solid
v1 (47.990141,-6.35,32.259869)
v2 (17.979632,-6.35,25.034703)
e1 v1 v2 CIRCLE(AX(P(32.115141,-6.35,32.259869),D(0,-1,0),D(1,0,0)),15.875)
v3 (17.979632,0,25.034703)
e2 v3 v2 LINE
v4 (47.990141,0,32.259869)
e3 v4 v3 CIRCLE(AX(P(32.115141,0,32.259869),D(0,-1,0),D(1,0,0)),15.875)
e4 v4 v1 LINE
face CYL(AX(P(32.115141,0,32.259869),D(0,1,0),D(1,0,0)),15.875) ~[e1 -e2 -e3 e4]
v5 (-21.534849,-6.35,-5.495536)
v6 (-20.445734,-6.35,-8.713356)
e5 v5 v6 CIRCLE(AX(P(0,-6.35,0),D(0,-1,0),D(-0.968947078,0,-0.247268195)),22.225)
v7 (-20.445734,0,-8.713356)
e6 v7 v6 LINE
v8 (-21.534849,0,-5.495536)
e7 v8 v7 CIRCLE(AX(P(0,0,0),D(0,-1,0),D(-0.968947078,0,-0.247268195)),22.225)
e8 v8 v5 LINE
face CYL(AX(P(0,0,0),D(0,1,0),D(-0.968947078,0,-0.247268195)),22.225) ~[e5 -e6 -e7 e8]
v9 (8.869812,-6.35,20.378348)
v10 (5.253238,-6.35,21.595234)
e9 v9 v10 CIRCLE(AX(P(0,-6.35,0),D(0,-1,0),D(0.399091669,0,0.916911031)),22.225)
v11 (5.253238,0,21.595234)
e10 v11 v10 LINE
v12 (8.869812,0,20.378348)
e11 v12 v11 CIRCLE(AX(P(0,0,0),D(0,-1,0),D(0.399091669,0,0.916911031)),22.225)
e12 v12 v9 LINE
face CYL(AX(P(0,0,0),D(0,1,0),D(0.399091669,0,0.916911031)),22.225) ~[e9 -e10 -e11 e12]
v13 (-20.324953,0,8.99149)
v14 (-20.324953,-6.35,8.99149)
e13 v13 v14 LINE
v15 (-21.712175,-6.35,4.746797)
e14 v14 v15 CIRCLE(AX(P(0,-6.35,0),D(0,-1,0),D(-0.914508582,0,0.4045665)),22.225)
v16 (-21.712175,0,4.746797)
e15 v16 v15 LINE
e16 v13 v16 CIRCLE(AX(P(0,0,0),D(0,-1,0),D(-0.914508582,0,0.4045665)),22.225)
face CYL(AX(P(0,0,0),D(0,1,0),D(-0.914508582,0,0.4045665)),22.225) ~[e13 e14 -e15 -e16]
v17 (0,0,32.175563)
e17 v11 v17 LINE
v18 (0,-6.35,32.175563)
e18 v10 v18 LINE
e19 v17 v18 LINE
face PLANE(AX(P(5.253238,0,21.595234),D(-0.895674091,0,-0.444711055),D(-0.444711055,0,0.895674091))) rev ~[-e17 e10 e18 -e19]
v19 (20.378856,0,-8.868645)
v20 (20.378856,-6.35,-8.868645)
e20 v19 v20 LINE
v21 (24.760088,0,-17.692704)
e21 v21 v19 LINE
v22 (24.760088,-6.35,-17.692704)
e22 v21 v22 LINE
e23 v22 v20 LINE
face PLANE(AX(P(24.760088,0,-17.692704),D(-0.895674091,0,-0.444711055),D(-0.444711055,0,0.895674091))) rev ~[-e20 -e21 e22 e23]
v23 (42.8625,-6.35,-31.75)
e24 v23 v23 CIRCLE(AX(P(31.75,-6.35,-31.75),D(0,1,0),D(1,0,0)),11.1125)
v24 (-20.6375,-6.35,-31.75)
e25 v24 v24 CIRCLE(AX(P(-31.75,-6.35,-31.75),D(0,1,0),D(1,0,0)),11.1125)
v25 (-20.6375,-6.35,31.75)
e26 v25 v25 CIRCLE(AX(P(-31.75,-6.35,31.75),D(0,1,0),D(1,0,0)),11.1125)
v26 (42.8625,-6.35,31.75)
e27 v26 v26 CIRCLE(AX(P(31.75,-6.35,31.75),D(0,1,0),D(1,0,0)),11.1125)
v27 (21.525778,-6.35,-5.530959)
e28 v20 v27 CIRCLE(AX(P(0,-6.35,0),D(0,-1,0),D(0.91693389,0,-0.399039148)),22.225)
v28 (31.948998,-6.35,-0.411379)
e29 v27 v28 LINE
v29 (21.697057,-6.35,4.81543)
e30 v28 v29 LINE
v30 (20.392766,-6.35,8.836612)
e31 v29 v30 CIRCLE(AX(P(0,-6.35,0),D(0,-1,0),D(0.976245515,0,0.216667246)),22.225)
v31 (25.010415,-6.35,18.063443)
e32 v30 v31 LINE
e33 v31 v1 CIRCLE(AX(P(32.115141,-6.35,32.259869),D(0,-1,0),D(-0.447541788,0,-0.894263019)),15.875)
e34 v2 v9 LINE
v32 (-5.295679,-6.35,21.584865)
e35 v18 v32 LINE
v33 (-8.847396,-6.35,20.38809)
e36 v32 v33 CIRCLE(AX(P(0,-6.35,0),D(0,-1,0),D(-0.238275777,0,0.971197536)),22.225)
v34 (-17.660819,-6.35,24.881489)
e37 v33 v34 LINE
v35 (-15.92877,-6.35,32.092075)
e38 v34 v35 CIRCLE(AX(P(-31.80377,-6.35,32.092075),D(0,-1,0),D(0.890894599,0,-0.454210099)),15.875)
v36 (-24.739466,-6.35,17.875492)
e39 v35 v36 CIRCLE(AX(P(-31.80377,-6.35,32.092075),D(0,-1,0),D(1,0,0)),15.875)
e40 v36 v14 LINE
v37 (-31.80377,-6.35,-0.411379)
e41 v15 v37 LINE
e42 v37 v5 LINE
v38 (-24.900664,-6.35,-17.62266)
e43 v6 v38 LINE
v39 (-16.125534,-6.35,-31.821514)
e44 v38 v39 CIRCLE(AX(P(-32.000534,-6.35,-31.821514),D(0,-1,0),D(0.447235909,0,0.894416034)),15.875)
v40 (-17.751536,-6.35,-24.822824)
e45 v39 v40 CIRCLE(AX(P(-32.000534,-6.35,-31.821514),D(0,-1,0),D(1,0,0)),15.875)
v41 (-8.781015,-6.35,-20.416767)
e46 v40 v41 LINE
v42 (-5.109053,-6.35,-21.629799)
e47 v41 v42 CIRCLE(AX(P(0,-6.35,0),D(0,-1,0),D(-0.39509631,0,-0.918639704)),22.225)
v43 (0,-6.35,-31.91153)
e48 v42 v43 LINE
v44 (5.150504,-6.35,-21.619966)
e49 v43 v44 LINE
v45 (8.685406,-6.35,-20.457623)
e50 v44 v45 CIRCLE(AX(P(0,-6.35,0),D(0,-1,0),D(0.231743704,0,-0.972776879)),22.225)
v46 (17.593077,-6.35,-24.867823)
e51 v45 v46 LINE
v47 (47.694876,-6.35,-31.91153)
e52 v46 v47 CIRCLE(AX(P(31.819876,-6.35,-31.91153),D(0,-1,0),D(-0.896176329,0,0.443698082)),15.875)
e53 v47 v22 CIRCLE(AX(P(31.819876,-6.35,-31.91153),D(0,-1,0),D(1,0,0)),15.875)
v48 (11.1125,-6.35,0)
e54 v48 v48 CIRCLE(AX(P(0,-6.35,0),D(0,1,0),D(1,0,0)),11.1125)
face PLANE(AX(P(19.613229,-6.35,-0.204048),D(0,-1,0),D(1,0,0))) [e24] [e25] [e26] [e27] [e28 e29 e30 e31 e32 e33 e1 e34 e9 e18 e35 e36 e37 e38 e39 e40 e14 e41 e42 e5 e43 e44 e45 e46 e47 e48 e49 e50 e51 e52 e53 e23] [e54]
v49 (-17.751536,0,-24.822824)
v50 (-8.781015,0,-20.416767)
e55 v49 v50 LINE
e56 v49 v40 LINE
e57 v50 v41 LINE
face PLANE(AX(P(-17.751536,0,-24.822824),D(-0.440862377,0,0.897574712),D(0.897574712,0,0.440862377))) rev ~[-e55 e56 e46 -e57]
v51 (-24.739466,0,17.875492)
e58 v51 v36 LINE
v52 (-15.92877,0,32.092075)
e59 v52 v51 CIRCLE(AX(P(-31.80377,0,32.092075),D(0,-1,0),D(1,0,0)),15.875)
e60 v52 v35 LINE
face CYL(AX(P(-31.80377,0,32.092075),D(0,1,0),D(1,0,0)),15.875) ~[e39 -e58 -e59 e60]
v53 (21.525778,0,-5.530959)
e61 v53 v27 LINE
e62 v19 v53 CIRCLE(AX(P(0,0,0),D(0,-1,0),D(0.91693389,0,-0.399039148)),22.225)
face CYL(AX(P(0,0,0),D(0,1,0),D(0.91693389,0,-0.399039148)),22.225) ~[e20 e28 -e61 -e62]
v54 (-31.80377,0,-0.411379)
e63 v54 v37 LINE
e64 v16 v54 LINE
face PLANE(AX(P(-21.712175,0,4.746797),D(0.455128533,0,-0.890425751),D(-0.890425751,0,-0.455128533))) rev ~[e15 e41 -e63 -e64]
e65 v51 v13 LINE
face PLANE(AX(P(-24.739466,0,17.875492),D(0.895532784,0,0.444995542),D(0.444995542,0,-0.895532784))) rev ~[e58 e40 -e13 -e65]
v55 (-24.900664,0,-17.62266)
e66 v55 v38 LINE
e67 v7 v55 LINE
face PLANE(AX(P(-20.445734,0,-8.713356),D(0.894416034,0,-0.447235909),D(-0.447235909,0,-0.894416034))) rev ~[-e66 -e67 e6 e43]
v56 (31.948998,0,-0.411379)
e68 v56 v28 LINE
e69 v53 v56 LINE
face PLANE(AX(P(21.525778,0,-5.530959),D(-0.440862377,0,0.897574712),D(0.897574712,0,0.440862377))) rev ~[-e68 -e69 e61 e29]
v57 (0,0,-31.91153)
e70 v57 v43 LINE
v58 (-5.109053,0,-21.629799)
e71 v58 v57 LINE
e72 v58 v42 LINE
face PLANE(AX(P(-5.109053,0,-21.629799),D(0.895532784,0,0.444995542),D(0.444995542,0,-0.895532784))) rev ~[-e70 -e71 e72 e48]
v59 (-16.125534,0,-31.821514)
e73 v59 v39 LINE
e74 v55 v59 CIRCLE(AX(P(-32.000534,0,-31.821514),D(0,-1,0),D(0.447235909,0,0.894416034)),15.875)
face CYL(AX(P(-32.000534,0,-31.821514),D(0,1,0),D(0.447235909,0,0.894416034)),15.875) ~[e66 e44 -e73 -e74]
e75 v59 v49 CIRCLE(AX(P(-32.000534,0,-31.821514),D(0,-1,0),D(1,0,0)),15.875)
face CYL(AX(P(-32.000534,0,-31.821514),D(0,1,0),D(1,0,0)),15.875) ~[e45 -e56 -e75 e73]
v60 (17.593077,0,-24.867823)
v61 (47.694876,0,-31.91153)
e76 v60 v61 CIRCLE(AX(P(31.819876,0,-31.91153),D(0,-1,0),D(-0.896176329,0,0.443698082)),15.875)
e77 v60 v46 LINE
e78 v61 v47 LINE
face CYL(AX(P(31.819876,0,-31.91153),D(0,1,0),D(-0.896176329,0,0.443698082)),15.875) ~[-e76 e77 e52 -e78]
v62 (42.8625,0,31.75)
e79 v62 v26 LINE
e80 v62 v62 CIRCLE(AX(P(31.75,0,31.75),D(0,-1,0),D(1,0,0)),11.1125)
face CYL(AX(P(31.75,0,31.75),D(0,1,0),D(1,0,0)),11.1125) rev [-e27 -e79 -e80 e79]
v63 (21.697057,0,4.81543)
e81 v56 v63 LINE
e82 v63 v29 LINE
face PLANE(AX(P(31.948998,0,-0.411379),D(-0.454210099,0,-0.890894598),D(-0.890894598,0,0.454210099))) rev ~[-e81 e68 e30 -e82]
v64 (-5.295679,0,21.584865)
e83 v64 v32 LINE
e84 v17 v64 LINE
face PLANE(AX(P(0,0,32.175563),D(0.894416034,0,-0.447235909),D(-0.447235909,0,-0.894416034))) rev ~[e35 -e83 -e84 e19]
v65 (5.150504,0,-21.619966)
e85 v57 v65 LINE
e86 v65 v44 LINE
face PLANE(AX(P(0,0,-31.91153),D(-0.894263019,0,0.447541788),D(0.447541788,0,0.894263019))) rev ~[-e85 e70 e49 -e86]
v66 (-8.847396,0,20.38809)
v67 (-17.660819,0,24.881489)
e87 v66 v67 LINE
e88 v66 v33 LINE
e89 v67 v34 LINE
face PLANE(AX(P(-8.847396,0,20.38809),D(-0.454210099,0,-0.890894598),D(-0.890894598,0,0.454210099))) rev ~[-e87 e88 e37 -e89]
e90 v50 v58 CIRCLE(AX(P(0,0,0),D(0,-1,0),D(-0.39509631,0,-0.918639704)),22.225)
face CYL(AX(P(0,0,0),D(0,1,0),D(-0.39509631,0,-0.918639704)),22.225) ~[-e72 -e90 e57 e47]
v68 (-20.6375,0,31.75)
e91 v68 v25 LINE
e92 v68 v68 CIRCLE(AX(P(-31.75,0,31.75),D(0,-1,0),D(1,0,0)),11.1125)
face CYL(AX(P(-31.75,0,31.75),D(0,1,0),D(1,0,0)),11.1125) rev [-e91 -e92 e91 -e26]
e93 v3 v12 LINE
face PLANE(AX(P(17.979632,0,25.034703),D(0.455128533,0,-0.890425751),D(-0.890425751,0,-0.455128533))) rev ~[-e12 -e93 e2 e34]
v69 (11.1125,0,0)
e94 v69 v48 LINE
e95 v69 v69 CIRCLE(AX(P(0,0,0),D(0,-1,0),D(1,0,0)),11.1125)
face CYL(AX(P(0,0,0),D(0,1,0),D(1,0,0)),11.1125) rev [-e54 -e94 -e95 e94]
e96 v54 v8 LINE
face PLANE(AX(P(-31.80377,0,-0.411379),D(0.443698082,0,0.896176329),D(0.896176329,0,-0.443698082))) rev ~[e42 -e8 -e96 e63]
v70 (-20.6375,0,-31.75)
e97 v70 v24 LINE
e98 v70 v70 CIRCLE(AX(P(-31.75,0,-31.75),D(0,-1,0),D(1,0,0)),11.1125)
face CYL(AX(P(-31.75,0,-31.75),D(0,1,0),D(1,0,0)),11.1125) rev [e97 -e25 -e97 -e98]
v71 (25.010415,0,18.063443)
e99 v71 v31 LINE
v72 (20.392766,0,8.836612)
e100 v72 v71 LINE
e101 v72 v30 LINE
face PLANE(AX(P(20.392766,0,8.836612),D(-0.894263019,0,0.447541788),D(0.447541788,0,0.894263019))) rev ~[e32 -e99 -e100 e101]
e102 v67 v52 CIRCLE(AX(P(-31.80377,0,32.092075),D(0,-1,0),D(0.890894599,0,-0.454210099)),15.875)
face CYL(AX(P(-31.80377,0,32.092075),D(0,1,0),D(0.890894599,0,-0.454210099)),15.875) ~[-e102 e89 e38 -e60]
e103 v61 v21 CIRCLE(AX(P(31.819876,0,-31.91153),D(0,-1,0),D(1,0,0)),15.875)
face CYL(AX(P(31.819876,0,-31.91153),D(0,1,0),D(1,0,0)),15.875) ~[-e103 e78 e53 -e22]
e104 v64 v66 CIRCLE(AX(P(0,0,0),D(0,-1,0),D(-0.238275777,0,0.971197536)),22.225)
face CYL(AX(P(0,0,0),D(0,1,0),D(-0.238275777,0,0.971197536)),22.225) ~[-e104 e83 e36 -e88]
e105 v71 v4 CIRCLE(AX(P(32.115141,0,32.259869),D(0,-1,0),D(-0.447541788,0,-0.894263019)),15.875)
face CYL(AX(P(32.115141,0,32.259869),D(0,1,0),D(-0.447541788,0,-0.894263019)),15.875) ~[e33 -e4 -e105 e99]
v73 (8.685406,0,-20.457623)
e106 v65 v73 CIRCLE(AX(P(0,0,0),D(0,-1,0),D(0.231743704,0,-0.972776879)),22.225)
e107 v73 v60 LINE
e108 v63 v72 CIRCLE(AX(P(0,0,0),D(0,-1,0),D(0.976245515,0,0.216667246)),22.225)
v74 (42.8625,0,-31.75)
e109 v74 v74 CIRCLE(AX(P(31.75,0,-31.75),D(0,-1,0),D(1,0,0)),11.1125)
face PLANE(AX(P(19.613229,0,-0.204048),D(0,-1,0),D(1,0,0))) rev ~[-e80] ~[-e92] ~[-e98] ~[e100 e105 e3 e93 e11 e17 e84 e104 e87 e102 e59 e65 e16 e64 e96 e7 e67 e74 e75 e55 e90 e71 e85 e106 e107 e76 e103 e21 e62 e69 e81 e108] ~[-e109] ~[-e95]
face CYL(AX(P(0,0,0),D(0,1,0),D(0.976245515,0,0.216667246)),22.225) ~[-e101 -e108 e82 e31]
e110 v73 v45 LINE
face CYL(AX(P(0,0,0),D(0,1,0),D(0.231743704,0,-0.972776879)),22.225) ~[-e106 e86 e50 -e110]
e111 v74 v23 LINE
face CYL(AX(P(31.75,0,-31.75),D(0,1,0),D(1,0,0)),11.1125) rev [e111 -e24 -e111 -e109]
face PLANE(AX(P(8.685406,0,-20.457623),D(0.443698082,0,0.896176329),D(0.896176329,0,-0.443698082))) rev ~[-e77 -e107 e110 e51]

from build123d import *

# Parameters (mm, degrees)
F1_DEPTH = 6.35
F2_R     = 11.1125
F3_DEPTH = 6.351
F4_R     = 21.59
F5_DEPTH = 6.35
F6_R     = 11.1125
F7_DEPTH = 6.351


with BuildPart() as f1:
    # F0 (on Front) → F1 (new body)
    with BuildSketch(Plane.XZ):
        with BuildLine():
            ThreePointArc((21.5257779082, -5.5309592701), (22.0495015704, -2.787490896), (22.225, 0))
            ThreePointArc((22.225, 0), (22.0926198885, 2.4221419162), (21.6970565613, 4.8154295316))
            Line((21.6970565613, 4.8154295316), (19.0545663115, 6.1626660745))
            Line((19.0545663115, 6.1626660745), (15.9729558223, 0.0050951573))
            Line((15.9729558223, 0.0050951573), (19.2714315866, -6.6382280738))
            Line((19.2714315866, -6.6382280738), (21.5257779082, -5.5309592701))
        make_face()
        with BuildLine():
            ThreePointArc((21.6970565613, 4.8154295316), (22.0926198885, 2.4221419162), (22.225, 0))
            ThreePointArc((22.225, 0), (22.0495015704, -2.787490896), (21.5257779082, -5.5309592701))
            Line((21.5257779082, -5.5309592701), (31.9489983919, -0.411379033))
            Line((31.9489983919, -0.411379033), (21.6970565613, 4.8154295316))
        make_face()
        with BuildLine():
            Line((19.0545663115, 6.1626660745), (21.6970565613, 4.8154295316))
            ThreePointArc((21.6970565613, 4.8154295316), (21.1407372397, 6.8571024464), (20.3927661329, 8.836612159))
            Line((20.3927661329, 8.836612159), (19.0545663115, 6.1626660745))
        make_face()
        with BuildLine():
            ThreePointArc((20.3788557045, -8.8686450586), (21.0186730351, -7.2226040208), (21.5257779082, -5.5309592701))
            Line((21.5257779082, -5.5309592701), (19.2714315866, -6.6382280738))
            Line((19.2714315866, -6.6382280738), (20.3788557045, -8.8686450586))
        make_face()
        with BuildLine():
            Line((19.0545663115, 6.1626660745), (20.3927661329, 8.836612159))
            ThreePointArc((20.3927661329, 8.836612159), (18.3482240517, 12.5416625352), (15.6384904833, 15.7920309144))
            Line((15.6384904833, 15.7920309144), (10.6233306163, 10.7795534064))
            Line((10.6233306163, 10.7795534064), (10.8349616789, 10.3533160607))
            Line((10.8349616789, 10.3533160607), (19.0545663115, 6.1626660745))
        make_face()
        with BuildLine():
            ThreePointArc((15.6384904833, 15.7920309144), (18.3482240517, 12.5416625352), (20.3927661329, 8.836612159))
            Line((20.3927661329, 8.836612159), (25.0104148101, 18.0634431618))
            ThreePointArc((25.0104148101, 18.0634431618), (22.8287799548, 19.3843441725), (20.8868182159, 21.0375515781))
            Line((20.8868182159, 21.0375515781), (15.6384904833, 15.7920309144))
        make_face()
        with BuildLine():
            Line((24.7600884642, -17.6927042464), (20.3788557045, -8.8686450586))
            ThreePointArc((20.3788557045, -8.8686450586), (18.3698756369, -12.509927821), (15.7177018967, -15.7131942038))
            Line((15.7177018967, -15.7131942038), (20.628024747, -20.6528413462))
            ThreePointArc((20.628024747, -20.6528413462), (22.5748134031, -19.0063208739), (24.7600884642, -17.6927042464))
        make_face()
        with BuildLine():
            ThreePointArc((15.7177018967, -15.7131942038), (18.3698756369, -12.509927821), (20.3788557045, -8.8686450586))
            Line((20.3788557045, -8.8686450586), (19.2714315866, -6.6382280738))
            Line((19.2714315866, -6.6382280738), (10.8220572797, -10.7883129526))
            Line((10.8220572797, -10.7883129526), (15.7177018967, -15.7131942038))
        make_face()
        with BuildLine():
            Line((10.6233306163, 10.7795534064), (15.6384904833, 15.7920309144))
            ThreePointArc((15.6384904833, 15.7920309144), (12.4668681814, 18.3991255974), (8.8698123462, 20.3783476745))
            Line((8.8698123462, 20.3783476745), (6.4671831136, 19.1502777135))
            Line((6.4671831136, 19.1502777135), (10.6233306163, 10.7795534064))
        make_face()
        with BuildLine():
            ThreePointArc((8.8698123462, 20.3783476745), (12.4668681814, 18.3991255974), (15.6384904833, 15.7920309144))
            Line((15.6384904833, 15.7920309144), (20.8868182159, 21.0375515781))
            ThreePointArc((20.8868182159, 21.0375515781), (19.2767105193, 22.9222920615), (17.9796318988, 25.0347031334))
            Line((17.9796318988, 25.0347031334), (8.8698123462, 20.3783476745))
        make_face()
        with BuildLine():
            Line((32.1151407006, 32.2598685929), (25.0104148101, 18.0634431618))
            ThreePointArc((25.0104148101, 18.0634431618), (40.4586442059, 18.7542558984), (47.9901407006, 32.2598685929))
            ThreePointArc((47.9901407006, 32.2598685929), (28.3993350831, 47.6938704594), (17.9796318988, 25.0347031334))
            Line((17.9796318988, 25.0347031334), (32.1151407006, 32.2598685929))
        make_face()
        with BuildLine():
            ThreePointArc((20.8868182159, 21.0375515781), (22.8287799548, 19.3843441725), (25.0104148101, 18.0634431618))
            Line((25.0104148101, 18.0634431618), (32.1151407006, 32.2598685929))
            Line((32.1151407006, 32.2598685929), (20.8868182159, 21.0375515781))
        make_face()
        with BuildLine():
            Line((20.628024747, -20.6528413462), (15.7177018967, -15.7131942038))
            ThreePointArc((15.7177018967, -15.7131942038), (12.4300167123, -18.4240416177), (8.6854055581, -20.4576234028))
            Line((8.6854055581, -20.4576234028), (17.5930772423, -24.8678233961))
            ThreePointArc((17.5930772423, -24.8678233961), (18.9370013071, -22.6353699906), (20.628024747, -20.6528413462))
        make_face()
        with BuildLine():
            ThreePointArc((8.6854055581, -20.4576234028), (12.4300167123, -18.4240416177), (15.7177018967, -15.7131942038))
            Line((15.7177018967, -15.7131942038), (10.8220572797, -10.7883129526))
            Line((10.8220572797, -10.7883129526), (10.4895712426, -10.9516203438))
            Line((10.4895712426, -10.9516203438), (6.3186403483, -19.2858348275))
            Line((6.3186403483, -19.2858348275), (8.6854055581, -20.4576234028))
        make_face()
        with BuildLine():
            Line((31.8198764616, -31.9115304439), (24.7600884642, -17.6927042464))
            ThreePointArc((24.7600884642, -17.6927042464), (22.5748134031, -19.0063208739), (20.628024747, -20.6528413462))
            Line((20.628024747, -20.6528413462), (31.8198764616, -31.9115304439))
        make_face()
        with BuildLine():
            ThreePointArc((47.6948764616, -31.9115304439), (40.1847282398, -18.4191296297), (24.7600884642, -17.6927042464))
            Line((24.7600884642, -17.6927042464), (31.8198764616, -31.9115304439))
            Line((31.8198764616, -31.9115304439), (17.5930772423, -24.8678233961))
            ThreePointArc((17.5930772423, -24.8678233961), (28.2028896359, -47.3689892034), (47.6948764616, -31.9115304439))
        make_face()
        with BuildLine():
            Line((6.4671831136, 19.1502777135), (8.8698123462, 20.3783476745))
            ThreePointArc((8.8698123462, 20.3783476745), (7.0876895336, 21.0645503649), (5.2532383322, 21.5952335487))
            Line((5.2532383322, 21.5952335487), (6.4671831136, 19.1502777135))
        make_face()
        with BuildLine():
            ThreePointArc((17.9796318988, 25.0347031334), (19.2767105193, 22.9222920615), (20.8868182159, 21.0375515781))
            Line((20.8868182159, 21.0375515781), (32.1151407006, 32.2598685929))
            Line((32.1151407006, 32.2598685929), (17.9796318988, 25.0347031334))
        make_face()
        with BuildLine():
            ThreePointArc((5.1505038225, -21.619966128), (6.9423236203, -21.1129052418), (8.6854055581, -20.4576234028))
            Line((8.6854055581, -20.4576234028), (6.3186403483, -19.2858348275))
            Line((6.3186403483, -19.2858348275), (5.1505038225, -21.619966128))
        make_face()
        with BuildLine():
            Line((31.8198764616, -31.9115304439), (20.628024747, -20.6528413462))
            ThreePointArc((20.628024747, -20.6528413462), (18.9370013071, -22.6353699906), (17.5930772423, -24.8678233961))
            Line((17.5930772423, -24.8678233961), (31.8198764616, -31.9115304439))
        make_face()
        with BuildLine():
            Line((6.4671831136, 19.1502777135), (5.2532383322, 21.5952335487))
            ThreePointArc((5.2532383322, 21.5952335487), (-0.0218444781, 22.2249892648), (-5.2956791501, 21.5848652379))
            Line((-5.2956791501, 21.5848652379), (-6.4940514809, 19.1882700525))
            Line((-6.4940514809, 19.1882700525), (0.0320288973, 15.8610396236))
            Line((0.0320288973, 15.8610396236), (6.4671831136, 19.1502777135))
        make_face()
        with BuildLine():
            ThreePointArc((-5.2956791501, 21.5848652379), (-0.0218444781, 22.2249892648), (5.2532383322, 21.5952335487))
            Line((5.2532383322, 21.5952335487), (0, 32.1755629932))
            Line((0, 32.1755629932), (-5.2956791501, 21.5848652379))
        make_face()
        with BuildLine():
            Line((0, -31.9115304439), (5.1505038225, -21.619966128))
            ThreePointArc((5.1505038225, -21.619966128), (0.0213004103, -22.2249897929), (-5.1090532865, -21.6297988783))
            Line((-5.1090532865, -21.6297988783), (0, -31.9115304439))
        make_face()
        with BuildLine():
            ThreePointArc((-5.1090532865, -21.6297988783), (0.0213004103, -22.2249897929), (5.1505038225, -21.619966128))
            Line((5.1505038225, -21.619966128), (6.3186403483, -19.2858348275))
            Line((6.3186403483, -19.2858348275), (-0.054424676, -16.1305219328))
            Line((-0.054424676, -16.1305219328), (-6.3139432909, -19.2050139139))
            Line((-6.3139432909, -19.2050139139), (-5.1090532865, -21.6297988783))
        make_face()
        with BuildLine():
            Line((-6.4940514809, 19.1882700525), (-5.2956791501, 21.5848652379))
            ThreePointArc((-5.2956791501, 21.5848652379), (-7.096810048, 21.0614793436), (-8.8473961867, 20.3880898006))
            Line((-8.8473961867, 20.3880898006), (-6.4940514809, 19.1882700525))
        make_face()
        with BuildLine():
            Line((-10.6715967815, 10.8337005282), (-6.4940514809, 19.1882700525))
            Line((-6.4940514809, 19.1882700525), (-8.8473961867, 20.3880898006))
            ThreePointArc((-8.8473961867, 20.3880898006), (-12.4455878153, 18.4135267923), (-15.6193303309, 15.8109817853))
            Line((-15.6193303309, 15.8109817853), (-10.6715967815, 10.8337005282))
        make_face()
        with BuildLine():
            ThreePointArc((-8.781015481, -20.4167674259), (-6.9714678453, -21.1032997676), (-5.1090532865, -21.6297988783))
            Line((-5.1090532865, -21.6297988783), (-6.3139432909, -19.2050139139))
            Line((-6.3139432909, -19.2050139139), (-8.781015481, -20.4167674259))
        make_face()
        with BuildLine():
            Line((-8.781015481, -20.4167674259), (-6.3139432909, -19.2050139139))
            Line((-6.3139432909, -19.2050139139), (-10.3826021382, -11.0170276563))
            Line((-10.3826021382, -11.0170276563), (-10.9191345383, -10.7513897577))
            Line((-10.9191345383, -10.7513897577), (-15.8003951401, -15.6300396166))
            ThreePointArc((-15.8003951401, -15.6300396166), (-12.5215665079, -18.361944265), (-8.781015481, -20.4167674259))
        make_face()
        with BuildLine():
            ThreePointArc((-15.6193303309, 15.8109817853), (-12.4455878153, 18.4135267923), (-8.8473961867, 20.3880898006))
            Line((-8.8473961867, 20.3880898006), (-17.6608186057, 24.8814894457))
            ThreePointArc((-17.6608186057, 24.8814894457), (-18.9756819297, 22.7402956748), (-20.6119186423, 20.8333856755))
            Line((-20.6119186423, 20.8333856755), (-15.6193303309, 15.8109817853))
        make_face()
        with BuildLine():
            Line((-15.8003951401, -15.6300396166), (-10.9191345383, -10.7513897577))
            Line((-10.9191345383, -10.7513897577), (-19.3721379739, -6.5662966137))
            Line((-19.3721379739, -6.5662966137), (-20.445734464, -8.7133556812))
            ThreePointArc((-20.445734464, -8.7133556812), (-18.4500841999, -12.3913283394), (-15.8003951401, -15.6300396166))
        make_face()
        with BuildLine():
            Line((-19.3721379739, -6.5662966137), (-15.9725433879, 0.2324685173))
            Line((-15.9725433879, 0.2324685173), (-18.9239192092, 6.1719747706))
            Line((-18.9239192092, 6.1719747706), (-21.7121749395, 4.7467972777))
            ThreePointArc((-21.7121749395, 4.7467972777), (-22.2216698648, -0.3847251214), (-21.5348488072, -5.4955356291))
            Line((-21.5348488072, -5.4955356291), (-19.3721379739, -6.5662966137))
        make_face()
        with BuildLine():
            Line((-10.9696125578, 10.2377061481), (-10.6715967815, 10.8337005282))
            Line((-10.6715967815, 10.8337005282), (-15.6193303309, 15.8109817853))
            ThreePointArc((-15.6193303309, 15.8109817853), (-18.2927375193, 12.6224553495), (-20.324953245, 8.9914904543))
            Line((-20.324953245, 8.9914904543), (-18.9239192092, 6.1719747706))
            Line((-18.9239192092, 6.1719747706), (-10.9696125578, 10.2377061481))
        make_face()
        with BuildLine():
            Line((-17.7515357784, -24.8228239325), (-8.781015481, -20.4167674259))
            ThreePointArc((-8.781015481, -20.4167674259), (-12.5215665079, -18.361944265), (-15.8003951401, -15.6300396166))
            Line((-15.8003951401, -15.6300396166), (-20.7722118543, -20.5991971539))
            ThreePointArc((-20.7722118543, -20.5991971539), (-19.0880122112, -22.5866672669), (-17.7515357784, -24.8228239325))
        make_face()
        with BuildLine():
            ThreePointArc((-20.324953245, 8.9914904543), (-18.2927375193, 12.6224553495), (-15.6193303309, 15.8109817853))
            Line((-15.6193303309, 15.8109817853), (-20.6119186423, 20.8333856755))
            ThreePointArc((-20.6119186423, 20.8333856755), (-22.556657753, 19.1883337074), (-24.7394661231, 17.875491826))
            Line((-24.7394661231, 17.875491826), (-20.324953245, 8.9914904543))
        make_face()
        with BuildLine():
            Line((-31.8037703569, 32.0920747732), (-17.6608186057, 24.8814894457))
            ThreePointArc((-17.6608186057, 24.8814894457), (-16.3678547046, 28.3842272877), (-15.9287703569, 32.0920747732))
            ThreePointArc((-15.9287703569, 32.0920747732), (-45.2974995433, 40.4547835236), (-24.7394661231, 17.875491826))
            Line((-24.7394661231, 17.875491826), (-31.8037703569, 32.0920747732))
        make_face()
        with BuildLine():
            ThreePointArc((-20.6119186423, 20.8333856755), (-18.9756819297, 22.7402956748), (-17.6608186057, 24.8814894457))
            Line((-17.6608186057, 24.8814894457), (-31.8037703569, 32.0920747732))
            Line((-31.8037703569, 32.0920747732), (-20.6119186423, 20.8333856755))
        make_face()
        with BuildLine():
            Line((-20.7722118543, -20.5991971539), (-15.8003951401, -15.6300396166))
            ThreePointArc((-15.8003951401, -15.6300396166), (-18.4500841999, -12.3913283394), (-20.445734464, -8.7133556812))
            Line((-20.445734464, -8.7133556812), (-24.900664278, -17.6226596333))
            ThreePointArc((-24.900664278, -17.6226596333), (-22.716375551, -18.9444018915), (-20.7722118543, -20.5991971539))
        make_face()
        with BuildLine():
            Line((-20.445734464, -8.7133556812), (-19.3721379739, -6.5662966137))
            Line((-19.3721379739, -6.5662966137), (-21.5348488072, -5.4955356291))
            ThreePointArc((-21.5348488072, -5.4955356291), (-21.0518629679, -7.1252852982), (-20.445734464, -8.7133556812))
        make_face()
        with BuildLine():
            Line((-21.7121749395, 4.7467972777), (-18.9239192092, 6.1719747706))
            Line((-18.9239192092, 6.1719747706), (-20.324953245, 8.9914904543))
            ThreePointArc((-20.324953245, 8.9914904543), (-21.1254441738, 6.9040736858), (-21.7121749395, 4.7467972777))
        make_face()
        with BuildLine():
            Line((-32.000534339, -31.8215141687), (-17.7515357784, -24.8228239325))
            ThreePointArc((-17.7515357784, -24.8228239325), (-19.0880122112, -22.5866672669), (-20.7722118543, -20.5991971539))
            Line((-20.7722118543, -20.5991971539), (-32.000534339, -31.8215141687))
        make_face()
        with BuildLine():
            ThreePointArc((-16.125534339, -31.8215141687), (-16.5373768809, -28.2289682155), (-17.7515357784, -24.8228239325))
            Line((-17.7515357784, -24.8228239325), (-32.000534339, -31.8215141687))
            Line((-32.000534339, -31.8215141687), (-24.900664278, -17.6226596333))
            ThreePointArc((-24.900664278, -17.6226596333), (-45.5047200274, -40.1673271243), (-16.125534339, -31.8215141687))
        make_face()
        with BuildLine():
            ThreePointArc((-24.7394661231, 17.875491826), (-22.556657753, 19.1883337074), (-20.6119186423, 20.8333856755))
            Line((-20.6119186423, 20.8333856755), (-31.8037703569, 32.0920747732))
            Line((-31.8037703569, 32.0920747732), (-24.7394661231, 17.875491826))
        make_face()
        with BuildLine():
            Line((-32.000534339, -31.8215141687), (-20.7722118543, -20.5991971539))
            ThreePointArc((-20.7722118543, -20.5991971539), (-22.716375551, -18.9444018915), (-24.900664278, -17.6226596333))
            Line((-24.900664278, -17.6226596333), (-32.000534339, -31.8215141687))
        make_face()
        with BuildLine():
            Line((-31.8037703569, -0.411379033), (-21.5348488072, -5.4955356291))
            ThreePointArc((-21.5348488072, -5.4955356291), (-22.2216698648, -0.3847251214), (-21.7121749395, 4.7467972777))
            Line((-21.7121749395, 4.7467972777), (-31.8037703569, -0.411379033))
        make_face()
    extrude(amount=F1_DEPTH)

    # F2 (on Front) → F3 (cut, through all)
    with BuildSketch(Plane.XZ):
        with Locations((-31.75, 31.75)):
            Circle(F2_R)
        with Locations((31.75, 31.75)):
            Circle(F2_R)
        with Locations((31.75, -31.75)):
            Circle(F2_R)
        with Locations((-31.75, -31.75)):
            Circle(F2_R)
        Circle(F2_R)
    extrude(amount=F3_DEPTH, mode=Mode.SUBTRACT)

    # F4 (on Front) → F5 (join)
    with BuildSketch(Plane.XZ):
        Circle(F4_R)
    extrude(amount=F5_DEPTH)

    # F6 (on Front) → F7 (cut, through all)
    with BuildSketch(Plane.XZ):
        Circle(F6_R)
    extrude(amount=F7_DEPTH, mode=Mode.SUBTRACT)


solid = f1.part
